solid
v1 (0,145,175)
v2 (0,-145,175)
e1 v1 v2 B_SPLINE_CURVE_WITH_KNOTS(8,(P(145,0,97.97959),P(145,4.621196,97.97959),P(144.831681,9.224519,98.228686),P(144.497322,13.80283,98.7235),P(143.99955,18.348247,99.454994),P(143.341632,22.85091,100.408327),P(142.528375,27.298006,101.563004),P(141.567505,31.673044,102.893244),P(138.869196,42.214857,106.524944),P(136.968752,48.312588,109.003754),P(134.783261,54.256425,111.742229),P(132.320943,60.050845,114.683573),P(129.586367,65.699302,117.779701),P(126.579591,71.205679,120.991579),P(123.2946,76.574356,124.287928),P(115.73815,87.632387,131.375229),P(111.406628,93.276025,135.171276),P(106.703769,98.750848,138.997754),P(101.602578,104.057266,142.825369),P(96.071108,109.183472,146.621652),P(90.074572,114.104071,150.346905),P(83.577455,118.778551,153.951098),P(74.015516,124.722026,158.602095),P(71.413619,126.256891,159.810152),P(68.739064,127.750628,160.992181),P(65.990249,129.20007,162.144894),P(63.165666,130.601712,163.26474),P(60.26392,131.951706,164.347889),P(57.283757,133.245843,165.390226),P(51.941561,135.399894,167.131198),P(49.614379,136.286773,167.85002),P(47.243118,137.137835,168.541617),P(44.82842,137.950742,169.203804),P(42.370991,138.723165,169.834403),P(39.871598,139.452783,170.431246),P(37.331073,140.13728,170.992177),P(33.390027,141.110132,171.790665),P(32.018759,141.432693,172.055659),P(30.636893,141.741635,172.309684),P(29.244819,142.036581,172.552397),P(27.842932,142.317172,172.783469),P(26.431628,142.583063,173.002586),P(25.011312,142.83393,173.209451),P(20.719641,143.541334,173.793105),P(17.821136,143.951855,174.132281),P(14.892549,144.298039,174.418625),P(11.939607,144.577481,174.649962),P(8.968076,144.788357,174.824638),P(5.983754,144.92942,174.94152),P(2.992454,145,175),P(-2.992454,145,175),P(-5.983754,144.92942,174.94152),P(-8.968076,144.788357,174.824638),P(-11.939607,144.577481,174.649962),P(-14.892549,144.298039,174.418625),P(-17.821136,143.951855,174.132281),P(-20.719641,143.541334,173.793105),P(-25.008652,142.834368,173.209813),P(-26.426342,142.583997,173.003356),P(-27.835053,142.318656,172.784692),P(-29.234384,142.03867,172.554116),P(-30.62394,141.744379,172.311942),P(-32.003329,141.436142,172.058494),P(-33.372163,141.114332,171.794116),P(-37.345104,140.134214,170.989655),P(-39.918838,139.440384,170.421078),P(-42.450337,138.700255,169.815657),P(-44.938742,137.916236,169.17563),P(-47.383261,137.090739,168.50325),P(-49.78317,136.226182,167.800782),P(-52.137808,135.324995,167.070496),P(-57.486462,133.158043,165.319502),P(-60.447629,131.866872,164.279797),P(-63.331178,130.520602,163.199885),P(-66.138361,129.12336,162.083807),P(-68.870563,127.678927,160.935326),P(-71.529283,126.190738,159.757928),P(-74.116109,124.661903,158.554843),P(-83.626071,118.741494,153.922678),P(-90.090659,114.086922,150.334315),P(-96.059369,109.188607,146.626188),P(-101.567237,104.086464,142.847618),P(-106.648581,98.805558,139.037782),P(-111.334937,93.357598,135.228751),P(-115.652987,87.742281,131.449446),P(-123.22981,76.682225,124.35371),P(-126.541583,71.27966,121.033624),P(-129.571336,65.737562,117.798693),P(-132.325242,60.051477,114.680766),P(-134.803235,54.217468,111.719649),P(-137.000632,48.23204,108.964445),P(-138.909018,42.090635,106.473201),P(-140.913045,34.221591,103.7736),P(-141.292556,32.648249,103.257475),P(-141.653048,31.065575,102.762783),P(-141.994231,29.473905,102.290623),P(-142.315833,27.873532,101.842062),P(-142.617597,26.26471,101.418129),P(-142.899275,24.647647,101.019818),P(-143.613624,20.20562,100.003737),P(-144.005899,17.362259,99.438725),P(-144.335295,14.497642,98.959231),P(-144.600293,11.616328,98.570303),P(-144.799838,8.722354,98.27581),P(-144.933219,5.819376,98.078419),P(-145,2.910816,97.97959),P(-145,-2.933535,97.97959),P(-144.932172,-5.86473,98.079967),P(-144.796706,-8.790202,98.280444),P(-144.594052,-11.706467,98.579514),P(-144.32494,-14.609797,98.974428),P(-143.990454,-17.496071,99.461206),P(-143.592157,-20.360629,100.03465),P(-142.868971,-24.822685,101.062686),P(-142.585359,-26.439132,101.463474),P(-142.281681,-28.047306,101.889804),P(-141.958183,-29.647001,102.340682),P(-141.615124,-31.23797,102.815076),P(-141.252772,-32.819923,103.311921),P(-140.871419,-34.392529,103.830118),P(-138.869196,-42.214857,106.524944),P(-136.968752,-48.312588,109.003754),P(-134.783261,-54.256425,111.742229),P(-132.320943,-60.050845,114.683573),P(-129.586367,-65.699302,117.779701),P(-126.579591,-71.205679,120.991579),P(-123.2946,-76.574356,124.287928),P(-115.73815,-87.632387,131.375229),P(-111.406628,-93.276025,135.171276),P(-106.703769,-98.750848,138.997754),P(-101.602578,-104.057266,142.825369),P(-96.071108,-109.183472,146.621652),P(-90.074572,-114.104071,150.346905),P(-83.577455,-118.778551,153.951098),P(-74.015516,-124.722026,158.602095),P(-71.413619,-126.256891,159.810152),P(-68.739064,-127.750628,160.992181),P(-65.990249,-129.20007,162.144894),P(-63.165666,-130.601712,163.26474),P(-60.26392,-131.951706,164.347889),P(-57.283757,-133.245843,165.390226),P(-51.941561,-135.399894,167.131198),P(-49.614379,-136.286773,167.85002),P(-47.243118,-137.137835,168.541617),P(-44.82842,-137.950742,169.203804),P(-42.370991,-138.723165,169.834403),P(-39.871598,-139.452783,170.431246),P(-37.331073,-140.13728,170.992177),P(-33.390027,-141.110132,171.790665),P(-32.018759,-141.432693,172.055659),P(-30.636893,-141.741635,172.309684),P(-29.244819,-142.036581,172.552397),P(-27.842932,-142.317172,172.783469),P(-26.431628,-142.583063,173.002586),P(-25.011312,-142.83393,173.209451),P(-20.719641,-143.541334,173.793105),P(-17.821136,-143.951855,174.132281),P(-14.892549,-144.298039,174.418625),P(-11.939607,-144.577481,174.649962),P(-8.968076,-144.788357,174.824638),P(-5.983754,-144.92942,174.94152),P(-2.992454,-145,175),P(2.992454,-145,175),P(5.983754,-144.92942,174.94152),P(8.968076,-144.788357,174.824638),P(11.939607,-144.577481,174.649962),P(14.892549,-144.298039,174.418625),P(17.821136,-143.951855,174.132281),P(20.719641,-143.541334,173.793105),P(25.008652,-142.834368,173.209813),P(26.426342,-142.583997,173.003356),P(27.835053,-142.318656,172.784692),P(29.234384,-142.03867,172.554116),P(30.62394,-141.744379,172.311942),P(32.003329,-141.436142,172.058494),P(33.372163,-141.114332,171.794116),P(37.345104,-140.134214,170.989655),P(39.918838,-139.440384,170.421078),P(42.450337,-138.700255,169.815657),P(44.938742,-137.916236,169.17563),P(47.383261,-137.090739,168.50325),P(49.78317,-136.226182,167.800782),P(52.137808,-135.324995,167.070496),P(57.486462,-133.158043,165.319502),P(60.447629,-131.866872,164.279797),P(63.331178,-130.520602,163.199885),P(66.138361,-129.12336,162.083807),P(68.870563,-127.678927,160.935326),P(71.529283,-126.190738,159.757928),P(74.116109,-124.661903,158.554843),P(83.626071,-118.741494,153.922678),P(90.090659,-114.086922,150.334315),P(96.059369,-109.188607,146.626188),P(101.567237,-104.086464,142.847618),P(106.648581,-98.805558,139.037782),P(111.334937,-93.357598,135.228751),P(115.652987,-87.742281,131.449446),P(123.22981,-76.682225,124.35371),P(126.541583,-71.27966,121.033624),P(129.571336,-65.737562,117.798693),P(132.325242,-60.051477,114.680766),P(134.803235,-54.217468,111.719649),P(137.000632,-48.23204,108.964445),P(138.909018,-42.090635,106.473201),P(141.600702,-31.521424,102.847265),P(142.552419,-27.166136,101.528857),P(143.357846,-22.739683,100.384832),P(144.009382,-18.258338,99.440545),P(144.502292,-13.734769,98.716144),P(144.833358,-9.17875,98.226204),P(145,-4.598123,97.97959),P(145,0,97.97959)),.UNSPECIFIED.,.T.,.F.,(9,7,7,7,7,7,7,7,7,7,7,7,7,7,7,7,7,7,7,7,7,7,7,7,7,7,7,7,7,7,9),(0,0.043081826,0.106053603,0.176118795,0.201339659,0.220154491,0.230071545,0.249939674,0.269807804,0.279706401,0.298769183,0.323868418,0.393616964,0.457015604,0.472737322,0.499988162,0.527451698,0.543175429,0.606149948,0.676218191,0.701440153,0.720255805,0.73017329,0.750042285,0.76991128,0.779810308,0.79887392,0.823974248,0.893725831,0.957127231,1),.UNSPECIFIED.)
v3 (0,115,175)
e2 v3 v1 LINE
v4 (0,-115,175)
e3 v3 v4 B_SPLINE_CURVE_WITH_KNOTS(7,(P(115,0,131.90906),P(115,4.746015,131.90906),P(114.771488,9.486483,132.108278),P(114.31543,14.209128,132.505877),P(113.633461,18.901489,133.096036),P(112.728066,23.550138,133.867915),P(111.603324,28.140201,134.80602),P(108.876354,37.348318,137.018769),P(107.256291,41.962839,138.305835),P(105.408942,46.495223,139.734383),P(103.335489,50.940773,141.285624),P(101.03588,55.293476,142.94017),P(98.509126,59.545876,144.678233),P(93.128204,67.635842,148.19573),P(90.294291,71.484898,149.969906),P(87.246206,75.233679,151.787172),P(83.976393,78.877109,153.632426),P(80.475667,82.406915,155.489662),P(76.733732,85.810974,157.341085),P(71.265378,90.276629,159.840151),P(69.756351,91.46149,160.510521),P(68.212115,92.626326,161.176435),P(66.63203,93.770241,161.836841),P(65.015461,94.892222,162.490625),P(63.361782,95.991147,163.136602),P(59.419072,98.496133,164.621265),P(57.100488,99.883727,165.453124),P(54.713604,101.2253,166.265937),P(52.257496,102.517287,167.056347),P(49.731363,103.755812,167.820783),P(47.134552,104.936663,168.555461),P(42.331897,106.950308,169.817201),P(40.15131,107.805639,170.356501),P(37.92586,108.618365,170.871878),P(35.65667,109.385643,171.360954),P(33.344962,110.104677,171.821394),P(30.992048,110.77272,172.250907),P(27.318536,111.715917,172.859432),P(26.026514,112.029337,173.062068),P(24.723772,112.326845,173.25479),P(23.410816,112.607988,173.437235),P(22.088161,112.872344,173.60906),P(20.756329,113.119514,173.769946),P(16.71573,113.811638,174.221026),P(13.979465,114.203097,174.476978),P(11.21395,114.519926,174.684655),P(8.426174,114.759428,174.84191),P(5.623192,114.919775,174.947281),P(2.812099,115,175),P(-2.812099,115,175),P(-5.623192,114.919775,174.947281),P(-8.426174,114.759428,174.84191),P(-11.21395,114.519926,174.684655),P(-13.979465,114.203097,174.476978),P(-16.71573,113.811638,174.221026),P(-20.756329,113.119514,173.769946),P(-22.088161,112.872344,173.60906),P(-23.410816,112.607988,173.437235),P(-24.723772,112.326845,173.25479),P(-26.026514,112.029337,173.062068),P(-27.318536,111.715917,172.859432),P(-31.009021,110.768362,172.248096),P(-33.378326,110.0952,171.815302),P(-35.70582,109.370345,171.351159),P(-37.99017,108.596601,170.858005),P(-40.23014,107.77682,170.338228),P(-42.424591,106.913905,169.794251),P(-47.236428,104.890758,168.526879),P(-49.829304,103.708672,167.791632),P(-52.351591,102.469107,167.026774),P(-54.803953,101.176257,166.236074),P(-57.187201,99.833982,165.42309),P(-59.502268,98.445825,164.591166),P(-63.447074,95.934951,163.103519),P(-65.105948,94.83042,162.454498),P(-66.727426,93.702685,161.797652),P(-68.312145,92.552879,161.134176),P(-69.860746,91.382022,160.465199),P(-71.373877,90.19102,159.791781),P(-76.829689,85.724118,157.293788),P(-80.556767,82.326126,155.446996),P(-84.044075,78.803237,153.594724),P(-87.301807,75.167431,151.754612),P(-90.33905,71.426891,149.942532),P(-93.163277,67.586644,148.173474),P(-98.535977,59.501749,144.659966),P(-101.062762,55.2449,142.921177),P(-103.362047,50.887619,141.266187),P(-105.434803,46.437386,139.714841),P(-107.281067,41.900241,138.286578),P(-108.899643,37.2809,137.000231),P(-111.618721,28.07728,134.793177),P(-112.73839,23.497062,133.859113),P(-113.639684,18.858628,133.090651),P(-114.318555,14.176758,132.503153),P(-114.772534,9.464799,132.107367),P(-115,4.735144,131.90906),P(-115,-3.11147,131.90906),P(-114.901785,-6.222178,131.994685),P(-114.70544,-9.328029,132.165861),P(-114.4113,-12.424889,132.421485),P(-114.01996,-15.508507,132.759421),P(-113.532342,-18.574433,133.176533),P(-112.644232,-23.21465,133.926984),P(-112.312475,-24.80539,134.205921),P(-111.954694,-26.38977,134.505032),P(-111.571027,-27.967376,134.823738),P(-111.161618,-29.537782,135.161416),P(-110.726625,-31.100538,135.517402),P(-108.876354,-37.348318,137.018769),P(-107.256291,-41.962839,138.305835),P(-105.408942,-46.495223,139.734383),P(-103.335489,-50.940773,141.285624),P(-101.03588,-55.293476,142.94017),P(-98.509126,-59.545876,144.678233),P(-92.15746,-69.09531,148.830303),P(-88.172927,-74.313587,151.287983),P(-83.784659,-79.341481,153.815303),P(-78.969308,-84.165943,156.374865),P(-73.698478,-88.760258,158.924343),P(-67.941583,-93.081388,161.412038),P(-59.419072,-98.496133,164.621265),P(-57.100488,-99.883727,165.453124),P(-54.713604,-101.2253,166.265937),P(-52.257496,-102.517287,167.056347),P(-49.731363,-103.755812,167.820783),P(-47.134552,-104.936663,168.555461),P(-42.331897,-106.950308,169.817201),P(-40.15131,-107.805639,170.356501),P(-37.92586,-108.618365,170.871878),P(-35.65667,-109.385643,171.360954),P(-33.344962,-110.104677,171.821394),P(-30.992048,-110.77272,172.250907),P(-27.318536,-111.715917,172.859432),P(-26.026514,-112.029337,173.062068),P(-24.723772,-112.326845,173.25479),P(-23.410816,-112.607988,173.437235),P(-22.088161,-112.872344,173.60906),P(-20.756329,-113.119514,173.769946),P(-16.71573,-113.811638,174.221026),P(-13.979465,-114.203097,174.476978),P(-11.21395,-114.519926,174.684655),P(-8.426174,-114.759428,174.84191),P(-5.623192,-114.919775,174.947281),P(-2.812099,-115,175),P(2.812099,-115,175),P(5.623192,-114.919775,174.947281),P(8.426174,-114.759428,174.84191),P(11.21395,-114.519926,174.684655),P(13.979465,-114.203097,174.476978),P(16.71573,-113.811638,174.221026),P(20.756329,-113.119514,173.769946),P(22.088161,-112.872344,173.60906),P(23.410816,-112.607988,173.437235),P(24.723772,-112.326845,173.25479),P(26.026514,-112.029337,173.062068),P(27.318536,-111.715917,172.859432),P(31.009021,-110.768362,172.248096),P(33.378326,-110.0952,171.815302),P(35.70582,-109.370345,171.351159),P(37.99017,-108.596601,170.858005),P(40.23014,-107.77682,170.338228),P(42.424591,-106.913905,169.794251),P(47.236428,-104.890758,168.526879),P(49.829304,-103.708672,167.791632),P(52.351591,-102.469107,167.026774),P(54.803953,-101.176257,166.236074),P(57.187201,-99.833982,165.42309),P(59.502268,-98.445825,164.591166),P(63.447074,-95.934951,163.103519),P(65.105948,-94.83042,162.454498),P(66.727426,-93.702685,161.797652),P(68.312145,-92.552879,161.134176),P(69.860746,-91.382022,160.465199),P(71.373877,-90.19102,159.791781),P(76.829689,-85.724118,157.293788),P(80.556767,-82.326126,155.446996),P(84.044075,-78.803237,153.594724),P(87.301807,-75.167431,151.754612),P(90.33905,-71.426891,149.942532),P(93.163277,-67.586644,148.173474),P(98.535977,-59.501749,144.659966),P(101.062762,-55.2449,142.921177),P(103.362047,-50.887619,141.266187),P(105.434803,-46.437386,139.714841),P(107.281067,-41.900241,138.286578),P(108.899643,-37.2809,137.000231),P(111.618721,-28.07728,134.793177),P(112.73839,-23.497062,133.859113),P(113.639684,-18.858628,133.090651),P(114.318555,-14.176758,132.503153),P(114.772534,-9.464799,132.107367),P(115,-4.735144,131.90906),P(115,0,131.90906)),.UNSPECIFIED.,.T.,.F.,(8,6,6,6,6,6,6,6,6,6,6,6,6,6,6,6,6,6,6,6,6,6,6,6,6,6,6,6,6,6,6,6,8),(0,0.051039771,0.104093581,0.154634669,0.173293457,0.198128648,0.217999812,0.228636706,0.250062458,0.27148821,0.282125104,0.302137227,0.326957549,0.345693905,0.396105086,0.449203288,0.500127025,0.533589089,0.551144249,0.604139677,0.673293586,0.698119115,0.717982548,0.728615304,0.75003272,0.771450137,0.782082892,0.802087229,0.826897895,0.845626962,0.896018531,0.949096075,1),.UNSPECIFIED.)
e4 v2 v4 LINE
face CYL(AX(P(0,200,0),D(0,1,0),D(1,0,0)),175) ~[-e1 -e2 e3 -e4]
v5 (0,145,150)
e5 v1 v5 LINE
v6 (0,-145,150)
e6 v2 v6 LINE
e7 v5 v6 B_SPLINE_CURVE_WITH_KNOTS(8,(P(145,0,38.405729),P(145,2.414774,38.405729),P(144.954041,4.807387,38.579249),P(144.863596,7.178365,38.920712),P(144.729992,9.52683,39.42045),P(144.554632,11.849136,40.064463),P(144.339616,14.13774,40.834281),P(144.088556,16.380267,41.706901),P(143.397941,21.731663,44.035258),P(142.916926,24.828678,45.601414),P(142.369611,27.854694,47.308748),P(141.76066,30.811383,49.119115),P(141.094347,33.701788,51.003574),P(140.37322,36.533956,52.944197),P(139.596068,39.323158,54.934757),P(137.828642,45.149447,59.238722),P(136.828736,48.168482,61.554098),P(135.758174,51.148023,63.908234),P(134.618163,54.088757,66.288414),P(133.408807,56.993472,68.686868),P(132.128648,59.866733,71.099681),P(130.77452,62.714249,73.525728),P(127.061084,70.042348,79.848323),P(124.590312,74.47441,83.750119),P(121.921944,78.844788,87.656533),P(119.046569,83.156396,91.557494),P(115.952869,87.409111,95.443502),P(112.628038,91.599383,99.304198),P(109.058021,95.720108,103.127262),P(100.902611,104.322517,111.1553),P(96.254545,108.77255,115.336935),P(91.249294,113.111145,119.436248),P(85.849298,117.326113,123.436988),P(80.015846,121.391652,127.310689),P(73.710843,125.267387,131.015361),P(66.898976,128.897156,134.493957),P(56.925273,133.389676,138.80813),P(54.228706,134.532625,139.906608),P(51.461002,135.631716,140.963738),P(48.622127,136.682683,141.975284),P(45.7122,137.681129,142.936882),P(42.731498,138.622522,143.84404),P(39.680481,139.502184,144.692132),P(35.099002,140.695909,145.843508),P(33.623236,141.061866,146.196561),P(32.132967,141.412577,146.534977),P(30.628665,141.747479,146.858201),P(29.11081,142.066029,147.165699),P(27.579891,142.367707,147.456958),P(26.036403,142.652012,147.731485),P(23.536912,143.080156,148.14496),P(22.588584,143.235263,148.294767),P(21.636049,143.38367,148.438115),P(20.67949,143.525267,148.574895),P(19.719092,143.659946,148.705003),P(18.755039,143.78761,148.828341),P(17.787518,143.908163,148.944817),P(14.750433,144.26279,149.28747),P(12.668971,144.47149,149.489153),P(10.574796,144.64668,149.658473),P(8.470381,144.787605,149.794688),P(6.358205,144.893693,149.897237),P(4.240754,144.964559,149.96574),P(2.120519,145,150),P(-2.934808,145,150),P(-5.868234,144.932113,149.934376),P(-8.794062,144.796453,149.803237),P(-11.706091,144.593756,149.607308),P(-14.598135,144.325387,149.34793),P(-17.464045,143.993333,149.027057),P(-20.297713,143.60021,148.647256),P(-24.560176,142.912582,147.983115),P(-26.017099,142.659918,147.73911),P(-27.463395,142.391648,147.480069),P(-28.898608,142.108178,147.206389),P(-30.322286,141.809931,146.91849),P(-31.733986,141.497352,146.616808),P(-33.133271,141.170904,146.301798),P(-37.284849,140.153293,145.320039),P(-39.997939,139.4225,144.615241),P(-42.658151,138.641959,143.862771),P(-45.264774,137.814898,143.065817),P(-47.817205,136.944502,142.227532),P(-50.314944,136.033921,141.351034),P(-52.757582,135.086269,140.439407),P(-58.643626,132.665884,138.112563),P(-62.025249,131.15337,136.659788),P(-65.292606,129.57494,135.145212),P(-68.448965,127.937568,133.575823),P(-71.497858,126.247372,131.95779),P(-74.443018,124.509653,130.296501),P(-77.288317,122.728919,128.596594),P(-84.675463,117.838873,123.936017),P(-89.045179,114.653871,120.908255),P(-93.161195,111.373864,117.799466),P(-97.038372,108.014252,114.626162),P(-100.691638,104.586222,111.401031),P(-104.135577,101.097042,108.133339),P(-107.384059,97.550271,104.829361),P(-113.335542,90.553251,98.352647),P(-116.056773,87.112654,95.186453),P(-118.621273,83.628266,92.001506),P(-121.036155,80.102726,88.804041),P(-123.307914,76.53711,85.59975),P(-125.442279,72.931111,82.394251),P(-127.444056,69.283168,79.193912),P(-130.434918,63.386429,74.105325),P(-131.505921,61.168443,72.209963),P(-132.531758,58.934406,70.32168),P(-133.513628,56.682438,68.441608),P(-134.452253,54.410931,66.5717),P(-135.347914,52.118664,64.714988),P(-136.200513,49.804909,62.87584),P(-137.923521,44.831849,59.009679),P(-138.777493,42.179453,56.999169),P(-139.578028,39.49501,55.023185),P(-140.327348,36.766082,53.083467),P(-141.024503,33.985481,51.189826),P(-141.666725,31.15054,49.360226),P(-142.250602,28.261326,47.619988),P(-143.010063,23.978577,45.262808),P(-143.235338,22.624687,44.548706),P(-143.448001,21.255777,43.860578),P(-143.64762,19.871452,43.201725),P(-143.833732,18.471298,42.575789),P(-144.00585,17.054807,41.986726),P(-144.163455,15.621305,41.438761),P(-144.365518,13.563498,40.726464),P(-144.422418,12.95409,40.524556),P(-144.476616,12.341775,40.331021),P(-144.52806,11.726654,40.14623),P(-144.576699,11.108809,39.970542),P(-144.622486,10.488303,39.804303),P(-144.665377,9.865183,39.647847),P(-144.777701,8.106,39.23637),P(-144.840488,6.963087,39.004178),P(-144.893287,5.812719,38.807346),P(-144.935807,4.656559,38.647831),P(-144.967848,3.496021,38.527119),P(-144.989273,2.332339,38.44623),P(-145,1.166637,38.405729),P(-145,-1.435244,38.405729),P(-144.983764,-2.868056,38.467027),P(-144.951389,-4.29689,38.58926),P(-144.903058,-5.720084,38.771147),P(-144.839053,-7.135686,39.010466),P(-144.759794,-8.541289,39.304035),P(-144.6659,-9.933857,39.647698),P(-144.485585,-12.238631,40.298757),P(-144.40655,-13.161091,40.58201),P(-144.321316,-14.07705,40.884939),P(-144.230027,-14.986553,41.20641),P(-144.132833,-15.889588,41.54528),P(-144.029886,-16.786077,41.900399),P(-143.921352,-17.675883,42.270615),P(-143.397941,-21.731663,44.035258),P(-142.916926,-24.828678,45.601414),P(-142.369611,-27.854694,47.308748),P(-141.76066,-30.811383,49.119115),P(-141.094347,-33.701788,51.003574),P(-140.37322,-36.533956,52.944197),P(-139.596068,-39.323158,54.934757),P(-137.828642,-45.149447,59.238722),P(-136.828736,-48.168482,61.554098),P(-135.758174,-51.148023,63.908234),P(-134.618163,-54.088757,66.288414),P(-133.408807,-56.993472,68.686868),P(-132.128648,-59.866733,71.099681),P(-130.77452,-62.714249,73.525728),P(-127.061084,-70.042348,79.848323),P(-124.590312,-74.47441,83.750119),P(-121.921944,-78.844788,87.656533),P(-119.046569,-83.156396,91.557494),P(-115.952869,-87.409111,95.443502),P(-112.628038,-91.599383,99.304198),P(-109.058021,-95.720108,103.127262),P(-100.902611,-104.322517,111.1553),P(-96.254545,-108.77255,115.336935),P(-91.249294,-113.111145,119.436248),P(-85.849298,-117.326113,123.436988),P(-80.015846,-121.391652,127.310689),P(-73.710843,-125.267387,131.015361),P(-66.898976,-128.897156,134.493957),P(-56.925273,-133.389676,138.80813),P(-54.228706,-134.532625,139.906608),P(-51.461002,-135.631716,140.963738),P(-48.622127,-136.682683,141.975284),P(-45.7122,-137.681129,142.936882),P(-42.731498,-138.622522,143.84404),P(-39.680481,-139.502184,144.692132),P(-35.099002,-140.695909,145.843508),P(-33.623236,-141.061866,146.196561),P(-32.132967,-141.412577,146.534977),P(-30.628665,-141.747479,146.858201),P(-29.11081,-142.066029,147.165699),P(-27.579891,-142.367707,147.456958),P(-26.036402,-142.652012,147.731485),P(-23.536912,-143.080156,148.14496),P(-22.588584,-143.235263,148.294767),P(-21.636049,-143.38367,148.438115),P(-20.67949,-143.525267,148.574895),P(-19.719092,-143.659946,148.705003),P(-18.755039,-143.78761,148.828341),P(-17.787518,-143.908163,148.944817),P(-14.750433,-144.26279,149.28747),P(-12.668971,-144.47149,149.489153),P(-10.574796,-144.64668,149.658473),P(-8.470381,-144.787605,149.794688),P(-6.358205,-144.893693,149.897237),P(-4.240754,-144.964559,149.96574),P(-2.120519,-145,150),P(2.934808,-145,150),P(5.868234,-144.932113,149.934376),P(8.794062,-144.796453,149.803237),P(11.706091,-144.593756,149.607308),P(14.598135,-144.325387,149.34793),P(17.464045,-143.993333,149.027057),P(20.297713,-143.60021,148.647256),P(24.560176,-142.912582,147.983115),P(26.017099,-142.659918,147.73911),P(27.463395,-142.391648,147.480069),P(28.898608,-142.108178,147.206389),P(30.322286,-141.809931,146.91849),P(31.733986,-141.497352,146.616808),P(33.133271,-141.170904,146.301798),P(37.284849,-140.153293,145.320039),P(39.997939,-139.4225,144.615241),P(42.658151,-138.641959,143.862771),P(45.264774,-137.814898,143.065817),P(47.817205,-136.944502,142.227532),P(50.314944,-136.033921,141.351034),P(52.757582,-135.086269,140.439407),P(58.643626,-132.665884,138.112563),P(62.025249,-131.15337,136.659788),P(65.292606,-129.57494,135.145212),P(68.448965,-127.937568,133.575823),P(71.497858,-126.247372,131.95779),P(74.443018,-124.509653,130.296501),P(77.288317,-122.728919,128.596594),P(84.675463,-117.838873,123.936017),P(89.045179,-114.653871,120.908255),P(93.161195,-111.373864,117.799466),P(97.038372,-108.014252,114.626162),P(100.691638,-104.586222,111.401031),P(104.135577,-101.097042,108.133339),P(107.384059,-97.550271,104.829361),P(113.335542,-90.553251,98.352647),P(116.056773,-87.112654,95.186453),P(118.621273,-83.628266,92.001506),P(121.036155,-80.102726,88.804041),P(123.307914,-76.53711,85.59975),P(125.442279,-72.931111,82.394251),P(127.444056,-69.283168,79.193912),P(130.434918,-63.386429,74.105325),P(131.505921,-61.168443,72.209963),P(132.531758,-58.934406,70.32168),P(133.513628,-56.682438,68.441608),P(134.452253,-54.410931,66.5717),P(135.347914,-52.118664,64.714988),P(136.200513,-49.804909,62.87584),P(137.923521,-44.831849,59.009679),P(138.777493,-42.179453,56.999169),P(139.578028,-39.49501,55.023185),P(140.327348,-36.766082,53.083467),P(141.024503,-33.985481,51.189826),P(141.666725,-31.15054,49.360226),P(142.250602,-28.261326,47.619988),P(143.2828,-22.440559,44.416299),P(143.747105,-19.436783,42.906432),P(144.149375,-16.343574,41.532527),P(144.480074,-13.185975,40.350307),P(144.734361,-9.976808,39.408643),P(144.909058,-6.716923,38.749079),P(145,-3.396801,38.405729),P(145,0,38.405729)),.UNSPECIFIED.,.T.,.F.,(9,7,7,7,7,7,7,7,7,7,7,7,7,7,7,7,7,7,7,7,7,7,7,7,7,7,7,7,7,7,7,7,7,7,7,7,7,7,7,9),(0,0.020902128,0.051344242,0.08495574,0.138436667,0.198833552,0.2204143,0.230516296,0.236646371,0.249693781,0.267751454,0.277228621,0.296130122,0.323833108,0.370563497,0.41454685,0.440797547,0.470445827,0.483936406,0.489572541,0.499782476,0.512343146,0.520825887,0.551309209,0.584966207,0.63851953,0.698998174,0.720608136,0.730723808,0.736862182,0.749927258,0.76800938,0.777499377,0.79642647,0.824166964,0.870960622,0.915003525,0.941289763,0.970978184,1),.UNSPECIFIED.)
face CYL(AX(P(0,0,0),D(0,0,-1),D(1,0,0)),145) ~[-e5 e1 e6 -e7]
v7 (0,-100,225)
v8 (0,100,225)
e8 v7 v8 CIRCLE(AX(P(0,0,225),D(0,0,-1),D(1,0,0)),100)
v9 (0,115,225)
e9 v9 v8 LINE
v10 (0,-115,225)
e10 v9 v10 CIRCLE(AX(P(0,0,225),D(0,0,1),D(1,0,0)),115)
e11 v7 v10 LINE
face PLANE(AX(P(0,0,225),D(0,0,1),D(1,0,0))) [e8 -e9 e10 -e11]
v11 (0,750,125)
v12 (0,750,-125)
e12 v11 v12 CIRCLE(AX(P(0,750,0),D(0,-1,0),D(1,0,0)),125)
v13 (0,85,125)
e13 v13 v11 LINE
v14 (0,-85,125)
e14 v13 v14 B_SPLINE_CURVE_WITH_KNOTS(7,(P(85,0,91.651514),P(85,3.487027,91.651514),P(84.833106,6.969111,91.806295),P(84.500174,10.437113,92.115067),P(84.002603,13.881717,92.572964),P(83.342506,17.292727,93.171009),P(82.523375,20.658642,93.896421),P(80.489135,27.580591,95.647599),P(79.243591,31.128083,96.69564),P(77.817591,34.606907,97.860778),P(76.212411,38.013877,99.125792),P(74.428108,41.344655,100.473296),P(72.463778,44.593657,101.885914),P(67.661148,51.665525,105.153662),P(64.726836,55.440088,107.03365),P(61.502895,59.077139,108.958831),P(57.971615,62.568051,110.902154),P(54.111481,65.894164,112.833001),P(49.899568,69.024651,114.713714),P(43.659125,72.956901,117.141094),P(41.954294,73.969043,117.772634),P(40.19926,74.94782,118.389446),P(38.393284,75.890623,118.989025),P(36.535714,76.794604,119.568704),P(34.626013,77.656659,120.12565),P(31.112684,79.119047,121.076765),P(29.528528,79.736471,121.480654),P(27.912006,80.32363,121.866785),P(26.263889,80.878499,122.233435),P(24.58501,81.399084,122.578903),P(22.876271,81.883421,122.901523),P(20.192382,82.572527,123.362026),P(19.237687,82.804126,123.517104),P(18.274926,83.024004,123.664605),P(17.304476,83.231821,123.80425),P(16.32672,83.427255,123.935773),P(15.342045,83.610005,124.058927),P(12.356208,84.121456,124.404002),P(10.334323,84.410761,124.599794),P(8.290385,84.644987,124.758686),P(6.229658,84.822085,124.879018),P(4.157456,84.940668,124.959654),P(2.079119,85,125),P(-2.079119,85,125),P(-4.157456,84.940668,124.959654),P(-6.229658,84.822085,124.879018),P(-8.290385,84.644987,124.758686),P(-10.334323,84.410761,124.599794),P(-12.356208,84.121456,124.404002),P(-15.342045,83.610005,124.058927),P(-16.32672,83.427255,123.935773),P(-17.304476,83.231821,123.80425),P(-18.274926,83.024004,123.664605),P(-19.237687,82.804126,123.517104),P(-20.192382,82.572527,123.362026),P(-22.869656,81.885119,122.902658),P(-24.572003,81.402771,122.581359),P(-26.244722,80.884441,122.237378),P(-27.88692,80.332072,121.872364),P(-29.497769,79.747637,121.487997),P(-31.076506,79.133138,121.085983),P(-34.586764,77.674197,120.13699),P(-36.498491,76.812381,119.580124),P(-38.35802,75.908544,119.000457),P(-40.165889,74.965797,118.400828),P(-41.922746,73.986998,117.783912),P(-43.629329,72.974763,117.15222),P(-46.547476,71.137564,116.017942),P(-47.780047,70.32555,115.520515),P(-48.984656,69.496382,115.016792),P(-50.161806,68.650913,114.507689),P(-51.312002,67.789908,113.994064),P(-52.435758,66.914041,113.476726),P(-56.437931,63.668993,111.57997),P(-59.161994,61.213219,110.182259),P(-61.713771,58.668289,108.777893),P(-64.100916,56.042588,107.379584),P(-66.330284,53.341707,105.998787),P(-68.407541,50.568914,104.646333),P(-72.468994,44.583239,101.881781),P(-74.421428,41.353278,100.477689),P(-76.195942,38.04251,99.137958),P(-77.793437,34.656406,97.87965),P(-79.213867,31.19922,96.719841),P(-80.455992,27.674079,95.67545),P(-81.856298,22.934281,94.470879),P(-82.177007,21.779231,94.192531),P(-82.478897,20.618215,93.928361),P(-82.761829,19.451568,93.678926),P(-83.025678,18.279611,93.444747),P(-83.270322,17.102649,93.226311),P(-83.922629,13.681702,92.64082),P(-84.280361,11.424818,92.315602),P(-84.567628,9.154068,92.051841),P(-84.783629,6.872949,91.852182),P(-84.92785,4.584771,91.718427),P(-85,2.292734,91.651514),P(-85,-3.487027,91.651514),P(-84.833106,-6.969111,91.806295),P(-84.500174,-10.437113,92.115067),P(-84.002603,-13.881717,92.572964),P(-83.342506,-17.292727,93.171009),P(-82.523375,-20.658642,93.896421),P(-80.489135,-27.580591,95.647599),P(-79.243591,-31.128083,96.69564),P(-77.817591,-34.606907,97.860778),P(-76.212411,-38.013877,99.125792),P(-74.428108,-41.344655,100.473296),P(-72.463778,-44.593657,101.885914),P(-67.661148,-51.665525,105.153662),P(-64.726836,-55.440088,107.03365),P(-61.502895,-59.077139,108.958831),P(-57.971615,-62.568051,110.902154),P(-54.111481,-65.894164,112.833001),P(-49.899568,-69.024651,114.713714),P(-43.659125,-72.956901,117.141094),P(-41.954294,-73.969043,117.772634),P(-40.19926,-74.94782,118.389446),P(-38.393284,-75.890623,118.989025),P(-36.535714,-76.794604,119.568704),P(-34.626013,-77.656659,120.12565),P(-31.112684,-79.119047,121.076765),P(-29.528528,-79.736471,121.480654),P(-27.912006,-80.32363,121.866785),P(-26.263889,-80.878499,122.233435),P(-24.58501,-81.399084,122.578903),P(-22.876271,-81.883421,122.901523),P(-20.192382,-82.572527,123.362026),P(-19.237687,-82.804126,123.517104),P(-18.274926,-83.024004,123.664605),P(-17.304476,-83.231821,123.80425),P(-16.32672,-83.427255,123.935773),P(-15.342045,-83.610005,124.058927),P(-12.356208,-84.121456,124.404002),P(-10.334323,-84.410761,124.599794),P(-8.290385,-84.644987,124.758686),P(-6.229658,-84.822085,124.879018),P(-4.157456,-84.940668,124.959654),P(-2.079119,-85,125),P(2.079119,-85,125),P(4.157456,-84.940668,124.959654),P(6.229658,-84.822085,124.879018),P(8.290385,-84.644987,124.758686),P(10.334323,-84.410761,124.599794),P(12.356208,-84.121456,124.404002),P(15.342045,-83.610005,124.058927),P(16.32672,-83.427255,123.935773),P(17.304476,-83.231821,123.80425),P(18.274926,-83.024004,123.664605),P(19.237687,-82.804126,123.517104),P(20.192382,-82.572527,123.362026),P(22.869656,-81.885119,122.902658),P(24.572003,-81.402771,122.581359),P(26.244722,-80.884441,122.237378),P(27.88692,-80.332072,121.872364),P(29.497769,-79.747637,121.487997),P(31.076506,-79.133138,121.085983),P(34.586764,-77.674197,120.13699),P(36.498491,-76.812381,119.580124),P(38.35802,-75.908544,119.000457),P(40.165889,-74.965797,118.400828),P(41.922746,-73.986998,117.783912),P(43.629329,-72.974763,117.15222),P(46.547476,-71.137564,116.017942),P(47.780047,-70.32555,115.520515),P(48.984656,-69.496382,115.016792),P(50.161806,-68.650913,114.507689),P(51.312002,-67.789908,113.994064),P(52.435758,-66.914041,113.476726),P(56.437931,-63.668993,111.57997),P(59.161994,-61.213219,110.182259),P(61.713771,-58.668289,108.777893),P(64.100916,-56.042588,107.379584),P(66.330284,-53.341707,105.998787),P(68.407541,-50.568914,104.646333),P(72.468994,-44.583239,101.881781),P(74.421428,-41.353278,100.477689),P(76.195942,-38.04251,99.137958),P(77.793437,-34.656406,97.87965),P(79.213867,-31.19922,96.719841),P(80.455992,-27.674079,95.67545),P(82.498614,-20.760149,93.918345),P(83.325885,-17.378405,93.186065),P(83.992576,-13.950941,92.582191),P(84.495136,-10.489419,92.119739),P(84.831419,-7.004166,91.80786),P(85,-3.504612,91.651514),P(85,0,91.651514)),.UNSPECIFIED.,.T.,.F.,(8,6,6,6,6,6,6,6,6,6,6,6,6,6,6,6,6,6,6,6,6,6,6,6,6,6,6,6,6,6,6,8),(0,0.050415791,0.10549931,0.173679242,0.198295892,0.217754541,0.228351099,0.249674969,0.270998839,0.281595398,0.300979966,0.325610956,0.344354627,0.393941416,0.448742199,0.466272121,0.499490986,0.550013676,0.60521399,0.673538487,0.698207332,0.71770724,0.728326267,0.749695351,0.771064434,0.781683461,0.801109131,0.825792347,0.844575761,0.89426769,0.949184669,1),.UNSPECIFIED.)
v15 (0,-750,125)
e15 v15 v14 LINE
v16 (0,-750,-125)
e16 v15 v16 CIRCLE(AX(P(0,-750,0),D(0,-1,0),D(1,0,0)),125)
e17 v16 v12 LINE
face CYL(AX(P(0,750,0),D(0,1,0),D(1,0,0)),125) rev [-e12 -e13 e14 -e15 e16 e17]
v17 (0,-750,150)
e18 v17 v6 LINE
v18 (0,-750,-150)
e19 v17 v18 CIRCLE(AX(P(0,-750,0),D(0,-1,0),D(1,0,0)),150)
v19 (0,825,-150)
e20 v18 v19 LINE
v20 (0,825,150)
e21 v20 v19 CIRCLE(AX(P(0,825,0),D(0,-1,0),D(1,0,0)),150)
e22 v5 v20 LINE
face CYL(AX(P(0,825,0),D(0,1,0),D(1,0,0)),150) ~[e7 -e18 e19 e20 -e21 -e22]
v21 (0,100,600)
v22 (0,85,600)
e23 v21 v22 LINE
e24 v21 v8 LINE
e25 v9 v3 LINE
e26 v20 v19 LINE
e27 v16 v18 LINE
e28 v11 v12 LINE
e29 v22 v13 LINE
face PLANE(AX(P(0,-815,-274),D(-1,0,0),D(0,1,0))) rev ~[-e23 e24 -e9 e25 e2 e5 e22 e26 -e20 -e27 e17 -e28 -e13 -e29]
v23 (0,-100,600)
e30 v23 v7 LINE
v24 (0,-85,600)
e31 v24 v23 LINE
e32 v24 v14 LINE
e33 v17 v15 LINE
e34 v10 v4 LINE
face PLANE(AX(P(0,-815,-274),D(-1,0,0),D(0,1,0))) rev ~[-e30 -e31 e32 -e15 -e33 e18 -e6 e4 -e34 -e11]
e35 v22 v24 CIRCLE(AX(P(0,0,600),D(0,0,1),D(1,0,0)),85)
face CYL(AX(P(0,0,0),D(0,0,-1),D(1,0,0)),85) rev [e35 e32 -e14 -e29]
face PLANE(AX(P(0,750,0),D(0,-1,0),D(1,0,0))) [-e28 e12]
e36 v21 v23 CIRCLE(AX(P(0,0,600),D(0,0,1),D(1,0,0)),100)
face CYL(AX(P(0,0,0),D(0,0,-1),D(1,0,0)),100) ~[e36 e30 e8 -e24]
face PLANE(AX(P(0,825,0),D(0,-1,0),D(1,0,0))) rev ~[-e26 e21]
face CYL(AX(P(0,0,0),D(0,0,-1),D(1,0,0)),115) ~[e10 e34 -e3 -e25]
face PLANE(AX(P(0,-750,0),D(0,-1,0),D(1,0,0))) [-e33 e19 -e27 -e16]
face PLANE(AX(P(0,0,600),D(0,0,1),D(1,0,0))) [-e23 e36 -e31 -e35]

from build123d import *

# Parameters (mm, degrees)
BOX001_W               = 500
BOX001_H               = 1800
BOX001_DEPTH           = 1000
CYLINDER008_R          = 150
CYLINDER008_DEPTH      = 75
CYLINDER008_ROLL_ANGLE = 90
CYLINDER007_R          = 125
CYLINDER007_DEPTH      = 1500
CYLINDER007_ROLL_ANGLE = 90
CYLINDER006_R          = 85
CYLINDER006_DEPTH      = 600
CYLINDER002_R          = 115
CYLINDER002_DEPTH      = 225
CYLINDER001_R          = 150
CYLINDER001_DEPTH      = 1500
CYLINDER001_ROLL_ANGLE = 90
CYLINDER_R             = 100
CYLINDER_DEPTH         = 600
BOX_W                  = 500
BOX_H                  = 500
BOX_DEPTH              = 500
CYLINDER004_R          = 145
CYLINDER004_DEPTH      = 600
CYLINDER005_R          = 300
CYLINDER005_DEPTH      = 600
CYLINDER003_R          = 175
CYLINDER003_DEPTH      = 400
CYLINDER003_ROLL_ANGLE = 90


with BuildPart() as cube001:
    # Box001 → Box001 (new body)
    with BuildSketch(Plane(origin=(0, -815, -274), x_dir=(1, 0, 0), z_dir=(0, 0, 1))):
        with Locations((250, 900)):
            Rectangle(BOX001_W, BOX001_H)
    extrude(amount=BOX001_DEPTH)


with BuildPart() as cylinder008:
    # Cylinder008 → Cylinder008 (new body)
    with BuildSketch(Plane.XY):
        Circle(CYLINDER008_R)
    extrude(amount=CYLINDER008_DEPTH)


with BuildPart() as cylinder008_1:
    # Cylinder008 roll: moved
    add(cylinder008.part.rotate(Axis((0, 0, 0), (1, 0, 0)), CYLINDER008_ROLL_ANGLE))


with BuildPart() as cylinder008_2:
    # Cylinder008 placement: moved
    add(cylinder008_1.part.moved(Location((0, 825, 0))))


with BuildPart() as cylinder007:
    # Cylinder007 → Cylinder007 (new body)
    with BuildSketch(Plane.XY):
        Circle(CYLINDER007_R)
    extrude(amount=CYLINDER007_DEPTH)


with BuildPart() as cylinder007_1:
    # Cylinder007 roll: moved
    add(cylinder007.part.rotate(Axis((0, 0, 0), (1, 0, 0)), CYLINDER007_ROLL_ANGLE))


with BuildPart() as cylinder007_2:
    # Cylinder007 placement: moved
    add(cylinder007_1.part.moved(Location((0, 750, 0))))


with BuildPart() as cylinder006:
    # Cylinder006 → Cylinder006 (new body)
    with BuildSketch(Plane.XY):
        Circle(CYLINDER006_R)
    extrude(amount=CYLINDER006_DEPTH)


with BuildPart() as cylinder002:
    # Cylinder002 → Cylinder002 (new body)
    with BuildSketch(Plane.XY):
        Circle(CYLINDER002_R)
    extrude(amount=CYLINDER002_DEPTH)


with BuildPart() as cylinder001:
    # Cylinder001 → Cylinder001 (new body)
    with BuildSketch(Plane.XY):
        Circle(CYLINDER001_R)
    extrude(amount=CYLINDER001_DEPTH)


with BuildPart() as cylinder001_1:
    # Cylinder001 roll: moved
    add(cylinder001.part.rotate(Axis((0, 0, 0), (1, 0, 0)), CYLINDER001_ROLL_ANGLE))


with BuildPart() as cylinder001_2:
    # Cylinder001 placement: moved
    add(cylinder001_1.part.moved(Location((0, 750, 0))))


with BuildPart() as cylinder:
    # Cylinder → Cylinder (new body)
    with BuildSketch(Plane.XY):
        Circle(CYLINDER_R)
    extrude(amount=CYLINDER_DEPTH)


with BuildPart() as cube:
    # Box → Box (new body)
    with BuildSketch(Plane(origin=(-226, -279, -480), x_dir=(1, 0, 0), z_dir=(0, 0, 1))):
        with Locations((250, 250)):
            Rectangle(BOX_W, BOX_H)
    extrude(amount=BOX_DEPTH)


with BuildPart() as cylinder004:
    # Cylinder004 → Cylinder004 (new body)
    with BuildSketch(Plane.XY):
        Circle(CYLINDER004_R)
    extrude(amount=CYLINDER004_DEPTH)


with BuildPart() as cut:
    # Cylinder005 → Cylinder005 (new body)
    with BuildSketch(Plane.XY):
        Circle(CYLINDER005_R)
    extrude(amount=CYLINDER005_DEPTH)

    # Cut: cut Cylinder004
    add(cylinder004.part, mode=Mode.SUBTRACT)


with BuildPart() as cut005:
    # Cylinder003 → Cylinder003 (new body)
    with BuildSketch(Plane.XY):
        Circle(CYLINDER003_R)
    extrude(amount=CYLINDER003_DEPTH)


with BuildPart() as cut005_1:
    # Cylinder003 roll: moved
    add(cut005.part.rotate(Axis((0, 0, 0), (1, 0, 0)), CYLINDER003_ROLL_ANGLE))


with BuildPart() as cut005_2:
    # Cylinder003 placement: moved
    add(cut005_1.part.moved(Location((0, 200, 0))))

    # Cut001: cut Cut
    add(cut.part, mode=Mode.SUBTRACT)

    # Cut002: cut Cube
    add(cube.part, mode=Mode.SUBTRACT)

    # Fusion: union Cylinder002, Cylinder001, Cylinder
    add(cylinder002.part)
    add(cylinder001_2.part)
    add(cylinder.part)

    # Cut003: cut Cylinder006
    add(cylinder006.part, mode=Mode.SUBTRACT)

    # Cut004: cut Cylinder007
    add(cylinder007_2.part, mode=Mode.SUBTRACT)

    # Fusion001: union Cylinder008
    add(cylinder008_2.part)

    # Cut005: cut Cube001
    add(cube001.part, mode=Mode.SUBTRACT)


solid = cut005_2.part
